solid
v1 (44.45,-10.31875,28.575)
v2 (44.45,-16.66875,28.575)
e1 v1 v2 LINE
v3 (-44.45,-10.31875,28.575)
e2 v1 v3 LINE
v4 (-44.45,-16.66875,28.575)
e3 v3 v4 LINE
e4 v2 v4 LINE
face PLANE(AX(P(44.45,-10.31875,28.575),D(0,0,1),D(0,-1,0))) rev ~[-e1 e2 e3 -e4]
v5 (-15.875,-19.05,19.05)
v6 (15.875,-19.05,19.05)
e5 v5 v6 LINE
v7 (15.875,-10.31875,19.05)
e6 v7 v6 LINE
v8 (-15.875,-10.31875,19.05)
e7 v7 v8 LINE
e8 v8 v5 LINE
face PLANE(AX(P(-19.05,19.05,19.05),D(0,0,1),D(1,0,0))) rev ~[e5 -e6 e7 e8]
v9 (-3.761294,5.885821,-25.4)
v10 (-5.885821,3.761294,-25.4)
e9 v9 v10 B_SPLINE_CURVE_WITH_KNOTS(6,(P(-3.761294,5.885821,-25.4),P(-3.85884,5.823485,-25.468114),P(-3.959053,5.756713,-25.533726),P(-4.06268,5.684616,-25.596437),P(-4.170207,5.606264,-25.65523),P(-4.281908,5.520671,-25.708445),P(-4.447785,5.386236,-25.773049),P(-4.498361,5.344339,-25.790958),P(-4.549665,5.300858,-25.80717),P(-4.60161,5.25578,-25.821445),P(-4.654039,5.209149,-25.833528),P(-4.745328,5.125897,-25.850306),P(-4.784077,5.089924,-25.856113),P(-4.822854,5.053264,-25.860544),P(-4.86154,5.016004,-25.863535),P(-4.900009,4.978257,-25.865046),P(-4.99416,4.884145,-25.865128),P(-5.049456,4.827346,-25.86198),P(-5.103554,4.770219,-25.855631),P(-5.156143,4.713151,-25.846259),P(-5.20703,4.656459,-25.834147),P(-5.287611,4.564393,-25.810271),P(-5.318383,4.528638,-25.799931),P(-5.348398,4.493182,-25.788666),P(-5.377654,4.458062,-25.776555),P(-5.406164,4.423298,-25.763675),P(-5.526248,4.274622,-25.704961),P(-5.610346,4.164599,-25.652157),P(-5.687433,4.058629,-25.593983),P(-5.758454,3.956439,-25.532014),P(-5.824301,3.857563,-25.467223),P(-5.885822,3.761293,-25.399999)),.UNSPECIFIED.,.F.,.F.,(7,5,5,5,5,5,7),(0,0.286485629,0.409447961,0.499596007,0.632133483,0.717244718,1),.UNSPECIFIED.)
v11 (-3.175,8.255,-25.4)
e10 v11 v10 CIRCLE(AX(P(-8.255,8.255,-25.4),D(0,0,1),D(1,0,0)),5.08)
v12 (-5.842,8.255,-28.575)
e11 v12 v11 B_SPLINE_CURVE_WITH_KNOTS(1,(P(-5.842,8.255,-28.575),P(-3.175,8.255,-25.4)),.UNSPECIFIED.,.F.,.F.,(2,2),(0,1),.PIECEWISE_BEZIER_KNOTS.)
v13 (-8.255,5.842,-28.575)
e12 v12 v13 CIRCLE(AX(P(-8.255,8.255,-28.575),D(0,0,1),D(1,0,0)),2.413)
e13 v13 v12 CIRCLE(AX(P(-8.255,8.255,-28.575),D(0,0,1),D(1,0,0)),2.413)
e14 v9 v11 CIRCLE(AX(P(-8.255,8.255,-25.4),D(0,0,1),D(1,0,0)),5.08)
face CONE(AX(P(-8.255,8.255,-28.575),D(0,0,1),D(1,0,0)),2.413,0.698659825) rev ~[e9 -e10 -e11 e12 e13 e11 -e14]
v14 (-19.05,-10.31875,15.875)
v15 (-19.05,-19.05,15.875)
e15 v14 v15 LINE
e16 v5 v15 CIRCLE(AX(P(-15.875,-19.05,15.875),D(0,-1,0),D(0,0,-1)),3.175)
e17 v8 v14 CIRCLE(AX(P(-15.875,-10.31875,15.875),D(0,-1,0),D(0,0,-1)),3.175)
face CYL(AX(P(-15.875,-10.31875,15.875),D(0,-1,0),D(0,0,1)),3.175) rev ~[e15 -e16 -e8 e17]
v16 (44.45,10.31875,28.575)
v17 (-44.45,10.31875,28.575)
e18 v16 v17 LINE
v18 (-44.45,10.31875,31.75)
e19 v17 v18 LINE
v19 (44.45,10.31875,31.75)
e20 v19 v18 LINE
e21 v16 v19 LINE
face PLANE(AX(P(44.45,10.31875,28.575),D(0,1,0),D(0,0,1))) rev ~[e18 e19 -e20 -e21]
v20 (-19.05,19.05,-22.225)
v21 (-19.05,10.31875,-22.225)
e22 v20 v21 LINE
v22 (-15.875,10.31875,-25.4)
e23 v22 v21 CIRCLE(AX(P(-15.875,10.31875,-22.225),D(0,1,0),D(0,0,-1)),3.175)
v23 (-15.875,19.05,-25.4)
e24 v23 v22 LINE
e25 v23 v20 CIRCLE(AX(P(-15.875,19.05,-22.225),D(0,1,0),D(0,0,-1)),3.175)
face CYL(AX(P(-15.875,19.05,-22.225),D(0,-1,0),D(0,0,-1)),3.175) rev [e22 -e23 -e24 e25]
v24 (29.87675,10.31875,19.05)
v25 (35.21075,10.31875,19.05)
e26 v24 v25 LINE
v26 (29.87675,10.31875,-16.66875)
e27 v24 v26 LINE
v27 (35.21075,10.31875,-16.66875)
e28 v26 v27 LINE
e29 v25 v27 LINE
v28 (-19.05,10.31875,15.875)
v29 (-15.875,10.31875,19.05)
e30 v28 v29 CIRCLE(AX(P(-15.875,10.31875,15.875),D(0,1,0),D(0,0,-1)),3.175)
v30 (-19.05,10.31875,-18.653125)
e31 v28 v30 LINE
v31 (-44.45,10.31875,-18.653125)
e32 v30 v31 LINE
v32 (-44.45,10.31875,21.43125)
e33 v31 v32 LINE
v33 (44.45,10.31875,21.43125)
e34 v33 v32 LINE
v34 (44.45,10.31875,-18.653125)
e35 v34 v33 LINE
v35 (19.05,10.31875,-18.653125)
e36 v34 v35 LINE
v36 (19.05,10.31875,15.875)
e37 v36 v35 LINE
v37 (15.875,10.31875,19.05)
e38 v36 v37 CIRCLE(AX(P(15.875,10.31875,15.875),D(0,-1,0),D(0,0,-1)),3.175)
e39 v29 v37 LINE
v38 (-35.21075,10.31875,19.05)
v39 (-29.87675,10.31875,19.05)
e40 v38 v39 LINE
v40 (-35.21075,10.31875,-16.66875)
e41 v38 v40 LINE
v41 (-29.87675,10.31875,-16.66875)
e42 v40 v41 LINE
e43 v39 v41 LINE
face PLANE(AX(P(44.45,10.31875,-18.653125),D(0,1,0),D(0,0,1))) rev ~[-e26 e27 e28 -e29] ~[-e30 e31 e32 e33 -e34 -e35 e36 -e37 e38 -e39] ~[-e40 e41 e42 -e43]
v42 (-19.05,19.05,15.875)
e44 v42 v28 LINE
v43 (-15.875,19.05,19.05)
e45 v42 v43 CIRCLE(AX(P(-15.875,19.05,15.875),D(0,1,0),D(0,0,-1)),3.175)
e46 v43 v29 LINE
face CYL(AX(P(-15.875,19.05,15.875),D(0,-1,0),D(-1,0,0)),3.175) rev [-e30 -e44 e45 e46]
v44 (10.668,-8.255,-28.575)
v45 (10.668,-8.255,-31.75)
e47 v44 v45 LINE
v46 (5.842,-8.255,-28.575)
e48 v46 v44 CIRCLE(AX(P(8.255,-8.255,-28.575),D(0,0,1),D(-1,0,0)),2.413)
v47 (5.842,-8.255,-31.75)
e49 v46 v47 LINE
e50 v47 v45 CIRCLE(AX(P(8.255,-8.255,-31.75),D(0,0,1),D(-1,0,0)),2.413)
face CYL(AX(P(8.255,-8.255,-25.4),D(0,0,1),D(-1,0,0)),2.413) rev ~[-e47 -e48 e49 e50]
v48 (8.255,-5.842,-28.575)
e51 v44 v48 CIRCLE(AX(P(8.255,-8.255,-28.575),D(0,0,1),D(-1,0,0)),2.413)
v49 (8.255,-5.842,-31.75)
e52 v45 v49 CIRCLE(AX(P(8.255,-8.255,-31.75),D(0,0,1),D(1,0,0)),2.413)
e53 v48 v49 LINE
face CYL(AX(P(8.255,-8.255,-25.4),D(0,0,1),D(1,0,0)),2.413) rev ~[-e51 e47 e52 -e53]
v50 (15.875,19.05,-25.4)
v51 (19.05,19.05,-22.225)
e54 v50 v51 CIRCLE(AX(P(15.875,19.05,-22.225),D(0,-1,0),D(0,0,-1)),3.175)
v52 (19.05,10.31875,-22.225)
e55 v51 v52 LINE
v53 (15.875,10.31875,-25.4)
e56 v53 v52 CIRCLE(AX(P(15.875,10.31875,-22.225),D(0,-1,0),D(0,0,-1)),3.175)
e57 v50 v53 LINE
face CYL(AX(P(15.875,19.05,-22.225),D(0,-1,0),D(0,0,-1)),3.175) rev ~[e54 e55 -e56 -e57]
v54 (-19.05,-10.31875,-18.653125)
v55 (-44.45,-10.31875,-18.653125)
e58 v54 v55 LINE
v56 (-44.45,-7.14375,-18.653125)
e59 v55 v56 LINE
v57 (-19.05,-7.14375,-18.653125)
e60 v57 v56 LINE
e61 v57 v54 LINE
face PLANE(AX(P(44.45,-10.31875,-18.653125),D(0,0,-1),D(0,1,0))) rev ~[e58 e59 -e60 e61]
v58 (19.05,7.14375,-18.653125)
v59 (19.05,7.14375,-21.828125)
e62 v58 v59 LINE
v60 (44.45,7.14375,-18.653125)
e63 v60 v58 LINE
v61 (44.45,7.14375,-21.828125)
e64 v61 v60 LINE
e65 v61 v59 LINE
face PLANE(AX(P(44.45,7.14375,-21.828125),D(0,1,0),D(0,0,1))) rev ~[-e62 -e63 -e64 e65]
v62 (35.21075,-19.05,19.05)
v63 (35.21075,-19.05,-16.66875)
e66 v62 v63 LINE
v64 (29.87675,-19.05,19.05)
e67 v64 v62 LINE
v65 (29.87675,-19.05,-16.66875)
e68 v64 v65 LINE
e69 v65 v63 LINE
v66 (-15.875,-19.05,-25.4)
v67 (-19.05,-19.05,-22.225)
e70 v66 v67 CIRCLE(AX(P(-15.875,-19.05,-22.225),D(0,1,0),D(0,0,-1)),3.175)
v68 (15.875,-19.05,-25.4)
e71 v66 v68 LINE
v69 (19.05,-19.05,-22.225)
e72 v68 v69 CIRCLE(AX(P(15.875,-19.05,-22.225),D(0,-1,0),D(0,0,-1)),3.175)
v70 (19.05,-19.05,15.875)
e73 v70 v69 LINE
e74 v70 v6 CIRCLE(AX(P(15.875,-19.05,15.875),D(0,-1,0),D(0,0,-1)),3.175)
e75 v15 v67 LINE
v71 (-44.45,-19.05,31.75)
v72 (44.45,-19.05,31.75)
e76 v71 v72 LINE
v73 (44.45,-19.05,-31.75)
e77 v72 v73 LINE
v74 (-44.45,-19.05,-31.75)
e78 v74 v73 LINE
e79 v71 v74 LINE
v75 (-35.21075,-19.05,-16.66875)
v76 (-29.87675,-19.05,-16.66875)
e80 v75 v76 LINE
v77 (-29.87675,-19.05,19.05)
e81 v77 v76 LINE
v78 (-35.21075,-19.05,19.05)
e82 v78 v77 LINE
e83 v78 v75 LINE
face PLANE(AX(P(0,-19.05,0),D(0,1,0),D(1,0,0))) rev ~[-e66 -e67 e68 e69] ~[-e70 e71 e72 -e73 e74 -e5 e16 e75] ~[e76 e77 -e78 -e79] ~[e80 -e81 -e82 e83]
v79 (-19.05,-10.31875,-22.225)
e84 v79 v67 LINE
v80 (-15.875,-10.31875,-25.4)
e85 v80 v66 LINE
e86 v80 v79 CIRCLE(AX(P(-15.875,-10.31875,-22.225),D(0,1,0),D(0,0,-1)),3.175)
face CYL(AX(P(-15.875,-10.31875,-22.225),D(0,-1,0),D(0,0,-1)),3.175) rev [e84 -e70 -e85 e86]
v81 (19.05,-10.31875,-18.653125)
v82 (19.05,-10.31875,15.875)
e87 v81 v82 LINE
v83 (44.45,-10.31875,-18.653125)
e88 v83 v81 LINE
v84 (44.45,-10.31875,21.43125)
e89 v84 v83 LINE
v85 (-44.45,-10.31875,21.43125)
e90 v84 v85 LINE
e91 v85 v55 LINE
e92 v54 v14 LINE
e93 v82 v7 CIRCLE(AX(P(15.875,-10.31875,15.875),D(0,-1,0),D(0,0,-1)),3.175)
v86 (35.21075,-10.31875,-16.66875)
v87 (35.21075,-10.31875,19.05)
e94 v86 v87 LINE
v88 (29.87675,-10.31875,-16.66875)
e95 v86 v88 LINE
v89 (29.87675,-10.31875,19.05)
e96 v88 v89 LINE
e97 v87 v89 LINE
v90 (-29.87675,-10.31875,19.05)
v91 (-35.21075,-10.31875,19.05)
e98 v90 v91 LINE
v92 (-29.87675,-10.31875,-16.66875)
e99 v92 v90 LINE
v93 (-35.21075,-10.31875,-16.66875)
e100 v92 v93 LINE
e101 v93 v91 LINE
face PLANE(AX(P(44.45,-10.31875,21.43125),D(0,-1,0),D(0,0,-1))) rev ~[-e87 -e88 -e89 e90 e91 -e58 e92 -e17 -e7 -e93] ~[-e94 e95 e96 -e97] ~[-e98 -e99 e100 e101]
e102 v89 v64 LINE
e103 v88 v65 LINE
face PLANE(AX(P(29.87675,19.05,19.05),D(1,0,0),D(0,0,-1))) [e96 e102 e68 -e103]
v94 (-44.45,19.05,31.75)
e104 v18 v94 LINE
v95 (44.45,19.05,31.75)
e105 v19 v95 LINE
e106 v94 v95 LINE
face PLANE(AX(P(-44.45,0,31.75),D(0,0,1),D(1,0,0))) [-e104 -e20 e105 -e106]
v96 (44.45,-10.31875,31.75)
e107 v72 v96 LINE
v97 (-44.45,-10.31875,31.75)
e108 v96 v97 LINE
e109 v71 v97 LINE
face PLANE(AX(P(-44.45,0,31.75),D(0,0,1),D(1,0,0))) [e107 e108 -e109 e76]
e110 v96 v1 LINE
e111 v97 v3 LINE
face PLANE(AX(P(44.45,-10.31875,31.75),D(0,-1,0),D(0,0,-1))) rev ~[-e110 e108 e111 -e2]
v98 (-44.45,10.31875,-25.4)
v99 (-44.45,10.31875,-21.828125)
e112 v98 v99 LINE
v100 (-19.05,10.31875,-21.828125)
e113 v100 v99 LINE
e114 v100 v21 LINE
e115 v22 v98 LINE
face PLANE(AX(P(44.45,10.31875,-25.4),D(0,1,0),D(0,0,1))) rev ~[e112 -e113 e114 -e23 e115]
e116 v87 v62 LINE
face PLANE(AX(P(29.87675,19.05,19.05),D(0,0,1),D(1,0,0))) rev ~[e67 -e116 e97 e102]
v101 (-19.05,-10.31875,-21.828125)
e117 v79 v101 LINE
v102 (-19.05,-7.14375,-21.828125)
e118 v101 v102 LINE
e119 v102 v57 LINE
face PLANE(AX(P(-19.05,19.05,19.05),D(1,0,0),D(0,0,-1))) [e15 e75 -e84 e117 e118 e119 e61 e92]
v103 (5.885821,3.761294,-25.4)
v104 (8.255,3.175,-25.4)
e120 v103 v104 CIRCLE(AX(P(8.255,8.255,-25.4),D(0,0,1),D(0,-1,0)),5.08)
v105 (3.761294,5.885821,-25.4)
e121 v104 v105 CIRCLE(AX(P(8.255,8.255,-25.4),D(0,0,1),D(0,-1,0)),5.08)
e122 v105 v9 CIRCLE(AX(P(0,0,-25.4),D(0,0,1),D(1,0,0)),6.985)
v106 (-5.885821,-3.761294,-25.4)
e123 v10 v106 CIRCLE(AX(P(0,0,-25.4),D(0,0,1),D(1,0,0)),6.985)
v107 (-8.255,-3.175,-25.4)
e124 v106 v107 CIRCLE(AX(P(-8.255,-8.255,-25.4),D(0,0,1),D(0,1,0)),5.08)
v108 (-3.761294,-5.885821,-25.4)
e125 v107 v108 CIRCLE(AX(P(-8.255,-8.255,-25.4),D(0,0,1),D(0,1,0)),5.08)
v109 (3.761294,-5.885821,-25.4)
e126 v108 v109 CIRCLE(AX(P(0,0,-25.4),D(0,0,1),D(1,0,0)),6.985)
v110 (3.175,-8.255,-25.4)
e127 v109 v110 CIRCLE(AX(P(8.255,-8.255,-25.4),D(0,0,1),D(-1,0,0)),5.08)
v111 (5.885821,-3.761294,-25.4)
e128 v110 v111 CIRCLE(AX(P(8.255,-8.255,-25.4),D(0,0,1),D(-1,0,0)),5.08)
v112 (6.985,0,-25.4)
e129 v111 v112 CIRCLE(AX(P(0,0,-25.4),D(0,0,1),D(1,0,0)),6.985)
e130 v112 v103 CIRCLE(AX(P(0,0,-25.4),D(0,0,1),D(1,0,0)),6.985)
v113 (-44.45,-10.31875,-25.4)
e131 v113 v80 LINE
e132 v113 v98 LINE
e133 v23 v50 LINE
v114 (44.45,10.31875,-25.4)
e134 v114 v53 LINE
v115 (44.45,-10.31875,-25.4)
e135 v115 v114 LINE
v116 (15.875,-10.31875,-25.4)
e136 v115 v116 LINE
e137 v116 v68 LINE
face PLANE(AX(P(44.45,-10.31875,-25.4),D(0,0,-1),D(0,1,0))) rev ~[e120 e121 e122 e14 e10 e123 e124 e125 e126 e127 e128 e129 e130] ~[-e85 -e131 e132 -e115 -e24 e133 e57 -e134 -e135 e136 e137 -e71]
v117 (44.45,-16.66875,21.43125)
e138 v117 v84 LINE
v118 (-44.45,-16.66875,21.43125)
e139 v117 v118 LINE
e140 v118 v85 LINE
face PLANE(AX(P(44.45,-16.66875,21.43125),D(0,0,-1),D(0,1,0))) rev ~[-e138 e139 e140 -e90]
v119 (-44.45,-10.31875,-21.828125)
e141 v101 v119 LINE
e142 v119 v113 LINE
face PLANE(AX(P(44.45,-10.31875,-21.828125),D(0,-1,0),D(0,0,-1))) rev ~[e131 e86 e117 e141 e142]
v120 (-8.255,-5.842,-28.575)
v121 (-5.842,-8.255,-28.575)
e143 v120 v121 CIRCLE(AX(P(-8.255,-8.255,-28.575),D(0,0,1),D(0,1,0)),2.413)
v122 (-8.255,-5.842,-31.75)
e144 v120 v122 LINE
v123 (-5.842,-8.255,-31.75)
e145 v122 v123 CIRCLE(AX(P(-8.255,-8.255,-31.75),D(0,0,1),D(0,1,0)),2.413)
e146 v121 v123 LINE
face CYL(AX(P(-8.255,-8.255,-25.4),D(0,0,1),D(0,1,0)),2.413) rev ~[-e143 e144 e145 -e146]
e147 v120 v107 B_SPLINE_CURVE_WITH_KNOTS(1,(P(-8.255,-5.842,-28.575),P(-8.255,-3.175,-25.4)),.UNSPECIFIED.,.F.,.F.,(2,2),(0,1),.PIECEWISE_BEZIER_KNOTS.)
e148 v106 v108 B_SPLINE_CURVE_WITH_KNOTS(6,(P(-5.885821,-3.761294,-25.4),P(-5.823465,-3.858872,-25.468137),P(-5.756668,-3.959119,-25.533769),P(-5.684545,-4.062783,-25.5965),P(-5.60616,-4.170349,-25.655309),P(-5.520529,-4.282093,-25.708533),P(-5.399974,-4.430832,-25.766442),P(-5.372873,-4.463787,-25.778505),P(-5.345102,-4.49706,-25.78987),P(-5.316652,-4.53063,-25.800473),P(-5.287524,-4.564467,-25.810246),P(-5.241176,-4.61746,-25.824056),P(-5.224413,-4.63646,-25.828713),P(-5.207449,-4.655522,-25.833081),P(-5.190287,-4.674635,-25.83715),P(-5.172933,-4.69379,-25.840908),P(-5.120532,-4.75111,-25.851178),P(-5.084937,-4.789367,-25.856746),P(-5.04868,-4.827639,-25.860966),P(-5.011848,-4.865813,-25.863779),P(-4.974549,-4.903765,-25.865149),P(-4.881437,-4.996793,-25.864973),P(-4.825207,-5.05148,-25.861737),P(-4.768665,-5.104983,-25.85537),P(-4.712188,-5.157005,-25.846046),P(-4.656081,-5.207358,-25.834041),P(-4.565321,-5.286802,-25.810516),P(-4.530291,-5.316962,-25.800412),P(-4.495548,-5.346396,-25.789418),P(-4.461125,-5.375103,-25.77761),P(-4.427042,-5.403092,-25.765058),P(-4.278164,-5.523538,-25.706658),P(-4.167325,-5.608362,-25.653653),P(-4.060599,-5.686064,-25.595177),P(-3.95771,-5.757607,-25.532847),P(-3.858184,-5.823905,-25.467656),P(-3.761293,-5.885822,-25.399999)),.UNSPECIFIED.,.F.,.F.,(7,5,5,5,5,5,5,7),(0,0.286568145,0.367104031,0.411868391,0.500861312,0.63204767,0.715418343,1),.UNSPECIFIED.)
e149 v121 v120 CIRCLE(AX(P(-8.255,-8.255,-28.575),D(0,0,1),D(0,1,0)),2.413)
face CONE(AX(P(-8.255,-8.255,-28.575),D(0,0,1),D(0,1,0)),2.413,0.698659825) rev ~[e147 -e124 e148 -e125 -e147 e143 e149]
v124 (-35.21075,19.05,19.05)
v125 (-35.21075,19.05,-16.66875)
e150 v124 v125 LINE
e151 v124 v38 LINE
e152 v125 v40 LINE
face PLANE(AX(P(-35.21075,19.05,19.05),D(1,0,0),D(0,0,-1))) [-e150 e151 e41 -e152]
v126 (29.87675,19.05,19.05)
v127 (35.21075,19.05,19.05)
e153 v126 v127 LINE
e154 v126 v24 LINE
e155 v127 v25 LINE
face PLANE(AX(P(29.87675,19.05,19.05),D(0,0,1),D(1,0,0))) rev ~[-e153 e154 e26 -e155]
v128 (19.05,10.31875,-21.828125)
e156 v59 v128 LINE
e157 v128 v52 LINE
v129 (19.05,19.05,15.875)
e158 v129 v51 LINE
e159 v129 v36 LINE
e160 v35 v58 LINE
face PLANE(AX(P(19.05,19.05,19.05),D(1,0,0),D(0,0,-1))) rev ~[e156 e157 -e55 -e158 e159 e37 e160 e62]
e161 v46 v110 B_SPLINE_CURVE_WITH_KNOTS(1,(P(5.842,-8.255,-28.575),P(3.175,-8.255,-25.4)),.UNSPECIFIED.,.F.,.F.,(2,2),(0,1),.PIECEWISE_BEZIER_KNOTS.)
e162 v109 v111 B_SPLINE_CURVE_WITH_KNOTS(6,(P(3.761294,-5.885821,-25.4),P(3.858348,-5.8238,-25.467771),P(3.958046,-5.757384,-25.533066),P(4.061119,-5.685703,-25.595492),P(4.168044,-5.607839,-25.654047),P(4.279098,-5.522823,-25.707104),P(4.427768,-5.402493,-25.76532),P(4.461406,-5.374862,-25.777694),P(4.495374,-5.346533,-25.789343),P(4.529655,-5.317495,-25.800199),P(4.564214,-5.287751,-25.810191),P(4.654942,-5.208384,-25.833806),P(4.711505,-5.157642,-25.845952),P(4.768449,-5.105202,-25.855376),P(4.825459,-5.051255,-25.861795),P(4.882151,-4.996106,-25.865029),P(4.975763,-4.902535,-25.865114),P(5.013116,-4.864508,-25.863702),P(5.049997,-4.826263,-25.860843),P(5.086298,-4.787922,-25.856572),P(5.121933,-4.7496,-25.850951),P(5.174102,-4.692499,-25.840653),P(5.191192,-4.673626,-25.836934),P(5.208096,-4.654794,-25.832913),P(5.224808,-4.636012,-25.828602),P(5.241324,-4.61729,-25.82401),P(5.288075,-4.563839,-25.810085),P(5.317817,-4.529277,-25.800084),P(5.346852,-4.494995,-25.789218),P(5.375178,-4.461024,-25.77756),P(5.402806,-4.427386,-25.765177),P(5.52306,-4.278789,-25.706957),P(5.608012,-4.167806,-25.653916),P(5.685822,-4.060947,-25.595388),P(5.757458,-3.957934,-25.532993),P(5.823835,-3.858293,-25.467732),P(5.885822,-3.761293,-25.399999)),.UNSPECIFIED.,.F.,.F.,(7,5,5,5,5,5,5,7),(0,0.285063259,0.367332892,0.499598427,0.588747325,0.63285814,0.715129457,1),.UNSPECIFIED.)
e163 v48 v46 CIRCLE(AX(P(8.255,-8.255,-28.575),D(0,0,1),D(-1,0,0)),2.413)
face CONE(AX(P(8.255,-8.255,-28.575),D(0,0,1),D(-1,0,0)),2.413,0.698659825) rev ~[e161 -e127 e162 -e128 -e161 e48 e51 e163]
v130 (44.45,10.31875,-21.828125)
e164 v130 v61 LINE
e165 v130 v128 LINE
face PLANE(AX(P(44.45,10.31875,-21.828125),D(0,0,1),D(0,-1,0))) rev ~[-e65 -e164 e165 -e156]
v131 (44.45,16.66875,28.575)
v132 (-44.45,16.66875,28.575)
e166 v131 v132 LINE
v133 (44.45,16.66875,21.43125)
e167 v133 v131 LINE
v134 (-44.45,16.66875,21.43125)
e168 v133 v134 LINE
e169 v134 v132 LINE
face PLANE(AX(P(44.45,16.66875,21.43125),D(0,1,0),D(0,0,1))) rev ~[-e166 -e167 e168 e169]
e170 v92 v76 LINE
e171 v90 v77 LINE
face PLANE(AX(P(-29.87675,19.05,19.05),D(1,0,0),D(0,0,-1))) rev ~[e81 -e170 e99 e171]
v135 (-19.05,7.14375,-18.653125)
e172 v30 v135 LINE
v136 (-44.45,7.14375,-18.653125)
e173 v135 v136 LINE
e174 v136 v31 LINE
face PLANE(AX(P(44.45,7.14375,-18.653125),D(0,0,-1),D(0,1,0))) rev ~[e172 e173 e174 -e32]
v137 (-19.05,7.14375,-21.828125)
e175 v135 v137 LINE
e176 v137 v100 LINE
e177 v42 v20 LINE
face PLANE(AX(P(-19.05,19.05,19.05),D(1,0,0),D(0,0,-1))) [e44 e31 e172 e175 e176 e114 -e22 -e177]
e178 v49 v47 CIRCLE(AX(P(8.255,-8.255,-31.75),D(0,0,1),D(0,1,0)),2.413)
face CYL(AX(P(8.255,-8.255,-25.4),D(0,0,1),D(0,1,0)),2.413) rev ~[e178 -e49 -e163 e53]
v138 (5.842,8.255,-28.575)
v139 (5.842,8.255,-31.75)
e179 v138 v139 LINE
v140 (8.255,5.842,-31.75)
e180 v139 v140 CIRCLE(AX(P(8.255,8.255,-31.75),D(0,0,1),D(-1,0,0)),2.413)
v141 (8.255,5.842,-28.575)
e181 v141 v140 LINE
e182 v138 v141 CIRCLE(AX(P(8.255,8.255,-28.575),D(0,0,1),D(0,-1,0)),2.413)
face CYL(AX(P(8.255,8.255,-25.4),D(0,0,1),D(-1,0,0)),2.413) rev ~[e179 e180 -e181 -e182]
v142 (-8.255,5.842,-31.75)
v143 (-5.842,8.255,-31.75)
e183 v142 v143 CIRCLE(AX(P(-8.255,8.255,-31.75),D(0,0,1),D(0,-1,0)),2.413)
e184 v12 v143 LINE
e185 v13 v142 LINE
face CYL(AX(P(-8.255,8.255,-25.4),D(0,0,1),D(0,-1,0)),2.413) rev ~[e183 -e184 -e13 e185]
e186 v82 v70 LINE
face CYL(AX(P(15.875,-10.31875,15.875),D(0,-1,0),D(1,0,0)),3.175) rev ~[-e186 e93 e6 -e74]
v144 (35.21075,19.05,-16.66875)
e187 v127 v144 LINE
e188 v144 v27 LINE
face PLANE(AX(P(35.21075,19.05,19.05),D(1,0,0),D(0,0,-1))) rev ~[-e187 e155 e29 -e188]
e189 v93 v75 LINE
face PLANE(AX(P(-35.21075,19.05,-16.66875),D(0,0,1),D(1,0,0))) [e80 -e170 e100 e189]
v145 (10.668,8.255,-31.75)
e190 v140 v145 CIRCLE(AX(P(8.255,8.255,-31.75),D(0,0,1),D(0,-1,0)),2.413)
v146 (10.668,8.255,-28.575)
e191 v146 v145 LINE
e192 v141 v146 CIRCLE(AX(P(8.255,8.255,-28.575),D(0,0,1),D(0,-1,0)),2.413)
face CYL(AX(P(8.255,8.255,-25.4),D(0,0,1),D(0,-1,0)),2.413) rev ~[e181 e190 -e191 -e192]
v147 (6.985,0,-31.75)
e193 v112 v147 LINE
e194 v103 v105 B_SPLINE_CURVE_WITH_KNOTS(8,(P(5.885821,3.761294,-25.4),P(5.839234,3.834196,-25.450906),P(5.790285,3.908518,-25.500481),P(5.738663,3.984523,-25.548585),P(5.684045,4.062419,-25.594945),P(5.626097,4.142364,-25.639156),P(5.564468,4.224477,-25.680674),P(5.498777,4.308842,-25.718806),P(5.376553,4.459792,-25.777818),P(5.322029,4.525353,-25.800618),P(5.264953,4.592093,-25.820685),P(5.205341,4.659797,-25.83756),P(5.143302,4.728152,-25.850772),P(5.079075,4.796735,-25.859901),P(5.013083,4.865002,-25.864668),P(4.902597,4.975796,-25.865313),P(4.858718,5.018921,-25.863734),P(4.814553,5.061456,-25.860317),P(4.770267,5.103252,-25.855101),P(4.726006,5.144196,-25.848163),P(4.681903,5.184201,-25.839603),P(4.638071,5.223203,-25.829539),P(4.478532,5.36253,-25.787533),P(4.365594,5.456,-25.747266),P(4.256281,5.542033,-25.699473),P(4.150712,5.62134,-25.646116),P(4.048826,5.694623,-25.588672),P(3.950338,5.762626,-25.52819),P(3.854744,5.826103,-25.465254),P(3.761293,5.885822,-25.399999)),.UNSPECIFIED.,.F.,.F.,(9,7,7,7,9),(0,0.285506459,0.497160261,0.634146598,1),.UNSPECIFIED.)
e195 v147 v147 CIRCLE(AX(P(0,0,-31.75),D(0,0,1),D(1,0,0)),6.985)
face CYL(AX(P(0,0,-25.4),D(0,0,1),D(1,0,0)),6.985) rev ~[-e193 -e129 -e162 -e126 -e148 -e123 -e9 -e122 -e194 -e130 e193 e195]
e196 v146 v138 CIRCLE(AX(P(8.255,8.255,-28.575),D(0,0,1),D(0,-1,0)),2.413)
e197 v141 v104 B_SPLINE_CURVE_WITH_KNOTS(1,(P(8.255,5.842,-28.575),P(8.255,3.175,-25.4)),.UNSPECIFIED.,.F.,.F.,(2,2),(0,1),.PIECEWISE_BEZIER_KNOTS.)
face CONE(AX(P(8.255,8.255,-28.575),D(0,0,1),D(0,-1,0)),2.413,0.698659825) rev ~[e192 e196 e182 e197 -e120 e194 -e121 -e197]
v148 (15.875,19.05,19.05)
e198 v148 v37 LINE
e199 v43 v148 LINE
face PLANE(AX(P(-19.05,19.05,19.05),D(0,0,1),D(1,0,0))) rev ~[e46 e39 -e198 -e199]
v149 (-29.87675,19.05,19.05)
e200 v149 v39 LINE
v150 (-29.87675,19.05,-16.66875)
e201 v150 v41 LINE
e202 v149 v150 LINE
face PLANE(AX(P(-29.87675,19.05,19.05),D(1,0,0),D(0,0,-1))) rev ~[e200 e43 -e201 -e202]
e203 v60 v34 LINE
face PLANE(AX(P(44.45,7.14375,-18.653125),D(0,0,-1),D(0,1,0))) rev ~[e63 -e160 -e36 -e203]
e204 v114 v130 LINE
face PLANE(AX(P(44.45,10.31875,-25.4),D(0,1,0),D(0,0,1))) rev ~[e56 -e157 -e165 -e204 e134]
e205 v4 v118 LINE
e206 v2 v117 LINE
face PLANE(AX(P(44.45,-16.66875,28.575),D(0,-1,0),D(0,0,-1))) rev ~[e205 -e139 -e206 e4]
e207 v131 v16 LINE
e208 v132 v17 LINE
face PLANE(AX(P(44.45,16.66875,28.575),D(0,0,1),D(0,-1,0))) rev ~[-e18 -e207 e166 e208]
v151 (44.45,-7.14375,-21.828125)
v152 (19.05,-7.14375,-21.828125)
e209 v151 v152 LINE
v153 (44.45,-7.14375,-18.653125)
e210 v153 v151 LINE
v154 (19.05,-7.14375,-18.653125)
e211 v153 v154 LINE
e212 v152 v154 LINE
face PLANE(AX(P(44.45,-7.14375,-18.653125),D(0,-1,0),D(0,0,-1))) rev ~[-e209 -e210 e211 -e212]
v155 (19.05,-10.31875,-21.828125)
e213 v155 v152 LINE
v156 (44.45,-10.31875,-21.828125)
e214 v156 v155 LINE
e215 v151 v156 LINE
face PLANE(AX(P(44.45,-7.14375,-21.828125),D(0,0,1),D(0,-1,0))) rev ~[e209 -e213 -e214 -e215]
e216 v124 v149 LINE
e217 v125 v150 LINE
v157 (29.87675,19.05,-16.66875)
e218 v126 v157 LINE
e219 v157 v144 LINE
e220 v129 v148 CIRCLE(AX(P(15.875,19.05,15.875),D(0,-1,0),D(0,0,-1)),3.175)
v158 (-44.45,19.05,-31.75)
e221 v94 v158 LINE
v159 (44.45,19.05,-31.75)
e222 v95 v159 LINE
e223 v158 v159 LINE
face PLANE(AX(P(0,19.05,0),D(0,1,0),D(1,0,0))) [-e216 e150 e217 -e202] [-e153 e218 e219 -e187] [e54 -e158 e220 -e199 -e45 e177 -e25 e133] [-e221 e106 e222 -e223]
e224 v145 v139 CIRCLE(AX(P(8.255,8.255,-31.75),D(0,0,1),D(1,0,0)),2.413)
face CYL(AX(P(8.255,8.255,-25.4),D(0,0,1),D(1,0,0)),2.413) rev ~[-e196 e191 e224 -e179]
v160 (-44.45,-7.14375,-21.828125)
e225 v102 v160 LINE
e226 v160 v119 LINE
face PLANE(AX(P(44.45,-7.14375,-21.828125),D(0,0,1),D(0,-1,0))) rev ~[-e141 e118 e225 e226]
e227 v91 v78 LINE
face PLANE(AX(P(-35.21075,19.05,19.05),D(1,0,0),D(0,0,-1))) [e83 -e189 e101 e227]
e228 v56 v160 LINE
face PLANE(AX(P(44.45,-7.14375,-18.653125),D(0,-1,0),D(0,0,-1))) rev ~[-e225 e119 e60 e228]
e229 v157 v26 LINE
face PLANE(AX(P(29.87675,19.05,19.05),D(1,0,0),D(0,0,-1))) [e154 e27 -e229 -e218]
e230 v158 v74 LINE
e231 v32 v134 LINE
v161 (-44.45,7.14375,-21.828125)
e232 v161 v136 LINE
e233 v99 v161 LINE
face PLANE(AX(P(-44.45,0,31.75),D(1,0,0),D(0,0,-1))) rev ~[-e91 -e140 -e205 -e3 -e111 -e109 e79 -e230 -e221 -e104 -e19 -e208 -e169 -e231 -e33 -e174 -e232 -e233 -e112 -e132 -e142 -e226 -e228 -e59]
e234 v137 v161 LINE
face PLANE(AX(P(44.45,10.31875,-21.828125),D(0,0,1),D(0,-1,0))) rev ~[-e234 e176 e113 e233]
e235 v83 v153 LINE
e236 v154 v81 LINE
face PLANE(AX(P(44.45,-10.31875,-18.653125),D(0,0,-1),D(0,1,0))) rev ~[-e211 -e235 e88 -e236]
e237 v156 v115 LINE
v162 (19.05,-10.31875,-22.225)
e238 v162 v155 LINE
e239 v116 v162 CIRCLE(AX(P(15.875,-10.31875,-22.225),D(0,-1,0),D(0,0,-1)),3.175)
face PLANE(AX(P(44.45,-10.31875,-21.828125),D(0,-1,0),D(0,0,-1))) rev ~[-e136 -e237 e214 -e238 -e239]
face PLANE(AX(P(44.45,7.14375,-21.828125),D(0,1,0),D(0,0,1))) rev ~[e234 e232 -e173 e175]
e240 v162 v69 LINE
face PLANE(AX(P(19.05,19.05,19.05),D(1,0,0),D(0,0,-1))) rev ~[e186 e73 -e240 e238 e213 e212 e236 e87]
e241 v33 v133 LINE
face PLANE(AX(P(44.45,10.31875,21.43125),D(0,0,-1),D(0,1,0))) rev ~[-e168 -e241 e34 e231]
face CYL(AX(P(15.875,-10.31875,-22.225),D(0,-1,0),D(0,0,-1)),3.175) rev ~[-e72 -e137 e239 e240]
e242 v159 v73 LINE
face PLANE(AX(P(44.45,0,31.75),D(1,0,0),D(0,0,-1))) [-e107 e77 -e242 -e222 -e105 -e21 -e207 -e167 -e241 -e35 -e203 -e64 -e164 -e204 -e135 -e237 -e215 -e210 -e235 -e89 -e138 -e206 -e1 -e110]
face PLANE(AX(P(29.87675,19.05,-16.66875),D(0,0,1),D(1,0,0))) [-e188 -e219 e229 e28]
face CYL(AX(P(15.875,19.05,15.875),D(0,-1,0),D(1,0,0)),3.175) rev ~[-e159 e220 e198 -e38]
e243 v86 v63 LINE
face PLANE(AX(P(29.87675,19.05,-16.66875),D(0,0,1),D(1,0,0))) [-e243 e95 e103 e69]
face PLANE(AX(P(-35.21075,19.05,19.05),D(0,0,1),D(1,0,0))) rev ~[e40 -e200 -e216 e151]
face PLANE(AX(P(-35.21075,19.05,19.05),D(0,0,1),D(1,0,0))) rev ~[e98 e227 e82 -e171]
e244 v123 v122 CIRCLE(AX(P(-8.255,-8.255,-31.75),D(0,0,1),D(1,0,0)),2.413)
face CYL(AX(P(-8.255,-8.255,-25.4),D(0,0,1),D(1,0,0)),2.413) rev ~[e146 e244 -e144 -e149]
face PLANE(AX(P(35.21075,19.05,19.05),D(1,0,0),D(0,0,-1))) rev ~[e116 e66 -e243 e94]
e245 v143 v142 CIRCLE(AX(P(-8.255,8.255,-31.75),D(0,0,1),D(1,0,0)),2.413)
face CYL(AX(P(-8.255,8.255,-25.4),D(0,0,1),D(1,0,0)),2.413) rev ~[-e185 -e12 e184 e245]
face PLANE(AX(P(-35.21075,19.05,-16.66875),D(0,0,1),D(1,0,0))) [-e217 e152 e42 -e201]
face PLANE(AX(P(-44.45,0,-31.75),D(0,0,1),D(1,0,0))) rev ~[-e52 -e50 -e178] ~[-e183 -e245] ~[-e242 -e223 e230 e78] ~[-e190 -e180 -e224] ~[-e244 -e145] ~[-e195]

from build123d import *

# Parameters (mm, degrees)
SKETCH1_W           = 88.9
SKETCH1_H           = 63.5
BOSS_EXTRUDE1_DEPTH = 19.05
CUT_EXTRUDE1_DEPTH  = 97.302518139
SKETCH7_W           = 5.334
SKETCH7_H           = 35.71875
SKETCH7_W_2         = 38.1
SKETCH7_H_2         = 44.45
CUT_EXTRUDE4_DEPTH  = 67.599361859
SKETCH4_R           = 6.985
CUT_EXTRUDE3_DEPTH  = 75.865395878
SKETCH6_R           = 2.413
SKETCH5_R           = 5.08
CIRPATTERN1_COUNT   = 4
FILLET1_R           = 3.175


with BuildPart() as part:
    # Sketch1 → Boss-Extrude1 (new, symmetric)
    with BuildSketch(Plane(origin=(0, 0, 0), x_dir=(1, 0, 0), z_dir=(0, 1, 0))):
        Rectangle(SKETCH1_W, SKETCH1_H)
    extrude(amount=BOSS_EXTRUDE1_DEPTH, both=True)

    # Sketch3 → Cut-Extrude1 (cut, through all)
    with BuildSketch(Plane(origin=(44.45, 0, 0), x_dir=(0, 0, -1), z_dir=(1, 0, 0))):
        Polygon((-31.75, 10.31875), (-31.75, -10.31875), (-28.575, -10.31875), (-28.575, -16.66875), (-21.43125, -16.66875), (-21.43125, -10.31875), (18.653125, -10.31875), (18.653125, -7.14375), (21.828125, -7.14375), (21.828125, -10.31875), (25.4, -10.31875), (25.4, 10.31875), (21.828125, 10.31875), (21.828125, 7.14375), (18.653125, 7.14375), (18.653125, 10.31875), (-21.43125, 10.31875), (-21.43125, 16.66875), (-28.575, 16.66875), (-28.575, 10.31875), align=None)
    extrude(amount=-CUT_EXTRUDE1_DEPTH, mode=Mode.SUBTRACT)

    # Sketch7 → Cut-Extrude4 (cut, through all)
    with BuildSketch(Plane(origin=(0, 19.05, 0), x_dir=(1, 0, 0), z_dir=(0, 1, 0))):
        with Locations((-32.54375, -1.190625)):
            Rectangle(SKETCH7_W, SKETCH7_H)
        with Locations((32.54375, -1.190625)):
            Rectangle(SKETCH7_W, SKETCH7_H)
        with Locations((0, 3.175)):
            Rectangle(SKETCH7_W_2, SKETCH7_H_2)
    extrude(amount=-CUT_EXTRUDE4_DEPTH, mode=Mode.SUBTRACT)

    # Sketch4 → Cut-Extrude3 (cut, through all)
    with BuildSketch(Plane.XY.offset(-25.4)):
        Circle(SKETCH4_R)
        with BuildLine():
            ThreePointArc((-5.842, 8.255), (-9.961248663, 9.961248663), (-8.255, 5.842))
            Line((-8.255, 5.842), (-8.255, 8.255))
            Line((-8.255, 8.255), (-5.842, 8.255))
        make_face()
        with BuildLine():
            Line((-8.255, 8.255), (-8.255, 5.842))
            ThreePointArc((-8.255, 5.842), (-6.548751337, 6.548751337), (-5.842, 8.255))
            Line((-5.842, 8.255), (-8.255, 8.255))
        make_face()
        with BuildLine():
            ThreePointArc((5.842, 8.255), (6.548751337, 6.548751337), (8.255, 5.842))
            Line((8.255, 5.842), (8.255, 8.255))
            Line((8.255, 8.255), (5.842, 8.255))
        make_face()
        with BuildLine():
            Line((8.255, 8.255), (8.255, 5.842))
            ThreePointArc((8.255, 5.842), (9.961248663, 6.548751337), (10.668, 8.255))
            ThreePointArc((10.668, 8.255), (8.255, 10.668), (5.842, 8.255))
            Line((5.842, 8.255), (8.255, 8.255))
        make_face()
        with BuildLine():
            ThreePointArc((8.255, -5.842), (6.548751337, -6.548751337), (5.842, -8.255))
            Line((5.842, -8.255), (8.255, -8.255))
            Line((8.255, -8.255), (8.255, -5.842))
        make_face()
        with BuildLine():
            Line((8.255, -8.255), (5.842, -8.255))
            ThreePointArc((5.842, -8.255), (8.255, -10.668), (10.668, -8.255))
            ThreePointArc((10.668, -8.255), (9.961248663, -6.548751337), (8.255, -5.842))
            Line((8.255, -5.842), (8.255, -8.255))
        make_face()
        with BuildLine():
            ThreePointArc((-8.255, -5.842), (-9.961248663, -9.961248663), (-5.842, -8.255))
            Line((-5.842, -8.255), (-8.255, -8.255))
            Line((-8.255, -8.255), (-8.255, -5.842))
        make_face()
        with BuildLine():
            Line((-8.255, -8.255), (-5.842, -8.255))
            ThreePointArc((-5.842, -8.255), (-6.548751337, -6.548751337), (-8.255, -5.842))
            Line((-8.255, -5.842), (-8.255, -8.255))
        make_face()
    extrude(amount=-CUT_EXTRUDE3_DEPTH, mode=Mode.SUBTRACT)

    # Sketch6 → Cut-Loft2 section 0
    with BuildSketch(Plane.XY.offset(-28.575)):
        with Locations((-8.255, 8.255)):
            Circle(SKETCH6_R)
    # Sketch5 → Cut-Loft2 section 1
    with BuildSketch(Plane.XY.offset(-25.4)):
        with Locations((-8.255, 8.255)):
            Circle(SKETCH5_R)
    cut_loft2 = loft(mode=Mode.SUBTRACT)

    # CirPattern1: Cut-Loft2 ×4 about axis
    cirpattern1_axis = Axis((0, 0, 0), (0, 0, 1))
    for i in range(1, CIRPATTERN1_COUNT):
        add(cut_loft2.rotate(cirpattern1_axis, i * 360 / CIRPATTERN1_COUNT), mode=Mode.SUBTRACT)

    # Fillet1
    fillet1_edges = [part.edges().sort_by_distance(p)[0] for p in [
        (19.05, -14.684375, 19.05),
        (-19.05, -14.684375, 19.05),
        (-19.05, -14.684375, -25.4),
        (19.05, -14.684375, -25.4),
        (-19.05, 14.684375, 19.05),
        (-19.05, 14.684375, -25.4),
        (19.05, 14.684375, -25.4),
        (19.05, 14.684375, 19.05),
    ]]
    fillet(fillet1_edges, radius=FILLET1_R)


solid = part.part
